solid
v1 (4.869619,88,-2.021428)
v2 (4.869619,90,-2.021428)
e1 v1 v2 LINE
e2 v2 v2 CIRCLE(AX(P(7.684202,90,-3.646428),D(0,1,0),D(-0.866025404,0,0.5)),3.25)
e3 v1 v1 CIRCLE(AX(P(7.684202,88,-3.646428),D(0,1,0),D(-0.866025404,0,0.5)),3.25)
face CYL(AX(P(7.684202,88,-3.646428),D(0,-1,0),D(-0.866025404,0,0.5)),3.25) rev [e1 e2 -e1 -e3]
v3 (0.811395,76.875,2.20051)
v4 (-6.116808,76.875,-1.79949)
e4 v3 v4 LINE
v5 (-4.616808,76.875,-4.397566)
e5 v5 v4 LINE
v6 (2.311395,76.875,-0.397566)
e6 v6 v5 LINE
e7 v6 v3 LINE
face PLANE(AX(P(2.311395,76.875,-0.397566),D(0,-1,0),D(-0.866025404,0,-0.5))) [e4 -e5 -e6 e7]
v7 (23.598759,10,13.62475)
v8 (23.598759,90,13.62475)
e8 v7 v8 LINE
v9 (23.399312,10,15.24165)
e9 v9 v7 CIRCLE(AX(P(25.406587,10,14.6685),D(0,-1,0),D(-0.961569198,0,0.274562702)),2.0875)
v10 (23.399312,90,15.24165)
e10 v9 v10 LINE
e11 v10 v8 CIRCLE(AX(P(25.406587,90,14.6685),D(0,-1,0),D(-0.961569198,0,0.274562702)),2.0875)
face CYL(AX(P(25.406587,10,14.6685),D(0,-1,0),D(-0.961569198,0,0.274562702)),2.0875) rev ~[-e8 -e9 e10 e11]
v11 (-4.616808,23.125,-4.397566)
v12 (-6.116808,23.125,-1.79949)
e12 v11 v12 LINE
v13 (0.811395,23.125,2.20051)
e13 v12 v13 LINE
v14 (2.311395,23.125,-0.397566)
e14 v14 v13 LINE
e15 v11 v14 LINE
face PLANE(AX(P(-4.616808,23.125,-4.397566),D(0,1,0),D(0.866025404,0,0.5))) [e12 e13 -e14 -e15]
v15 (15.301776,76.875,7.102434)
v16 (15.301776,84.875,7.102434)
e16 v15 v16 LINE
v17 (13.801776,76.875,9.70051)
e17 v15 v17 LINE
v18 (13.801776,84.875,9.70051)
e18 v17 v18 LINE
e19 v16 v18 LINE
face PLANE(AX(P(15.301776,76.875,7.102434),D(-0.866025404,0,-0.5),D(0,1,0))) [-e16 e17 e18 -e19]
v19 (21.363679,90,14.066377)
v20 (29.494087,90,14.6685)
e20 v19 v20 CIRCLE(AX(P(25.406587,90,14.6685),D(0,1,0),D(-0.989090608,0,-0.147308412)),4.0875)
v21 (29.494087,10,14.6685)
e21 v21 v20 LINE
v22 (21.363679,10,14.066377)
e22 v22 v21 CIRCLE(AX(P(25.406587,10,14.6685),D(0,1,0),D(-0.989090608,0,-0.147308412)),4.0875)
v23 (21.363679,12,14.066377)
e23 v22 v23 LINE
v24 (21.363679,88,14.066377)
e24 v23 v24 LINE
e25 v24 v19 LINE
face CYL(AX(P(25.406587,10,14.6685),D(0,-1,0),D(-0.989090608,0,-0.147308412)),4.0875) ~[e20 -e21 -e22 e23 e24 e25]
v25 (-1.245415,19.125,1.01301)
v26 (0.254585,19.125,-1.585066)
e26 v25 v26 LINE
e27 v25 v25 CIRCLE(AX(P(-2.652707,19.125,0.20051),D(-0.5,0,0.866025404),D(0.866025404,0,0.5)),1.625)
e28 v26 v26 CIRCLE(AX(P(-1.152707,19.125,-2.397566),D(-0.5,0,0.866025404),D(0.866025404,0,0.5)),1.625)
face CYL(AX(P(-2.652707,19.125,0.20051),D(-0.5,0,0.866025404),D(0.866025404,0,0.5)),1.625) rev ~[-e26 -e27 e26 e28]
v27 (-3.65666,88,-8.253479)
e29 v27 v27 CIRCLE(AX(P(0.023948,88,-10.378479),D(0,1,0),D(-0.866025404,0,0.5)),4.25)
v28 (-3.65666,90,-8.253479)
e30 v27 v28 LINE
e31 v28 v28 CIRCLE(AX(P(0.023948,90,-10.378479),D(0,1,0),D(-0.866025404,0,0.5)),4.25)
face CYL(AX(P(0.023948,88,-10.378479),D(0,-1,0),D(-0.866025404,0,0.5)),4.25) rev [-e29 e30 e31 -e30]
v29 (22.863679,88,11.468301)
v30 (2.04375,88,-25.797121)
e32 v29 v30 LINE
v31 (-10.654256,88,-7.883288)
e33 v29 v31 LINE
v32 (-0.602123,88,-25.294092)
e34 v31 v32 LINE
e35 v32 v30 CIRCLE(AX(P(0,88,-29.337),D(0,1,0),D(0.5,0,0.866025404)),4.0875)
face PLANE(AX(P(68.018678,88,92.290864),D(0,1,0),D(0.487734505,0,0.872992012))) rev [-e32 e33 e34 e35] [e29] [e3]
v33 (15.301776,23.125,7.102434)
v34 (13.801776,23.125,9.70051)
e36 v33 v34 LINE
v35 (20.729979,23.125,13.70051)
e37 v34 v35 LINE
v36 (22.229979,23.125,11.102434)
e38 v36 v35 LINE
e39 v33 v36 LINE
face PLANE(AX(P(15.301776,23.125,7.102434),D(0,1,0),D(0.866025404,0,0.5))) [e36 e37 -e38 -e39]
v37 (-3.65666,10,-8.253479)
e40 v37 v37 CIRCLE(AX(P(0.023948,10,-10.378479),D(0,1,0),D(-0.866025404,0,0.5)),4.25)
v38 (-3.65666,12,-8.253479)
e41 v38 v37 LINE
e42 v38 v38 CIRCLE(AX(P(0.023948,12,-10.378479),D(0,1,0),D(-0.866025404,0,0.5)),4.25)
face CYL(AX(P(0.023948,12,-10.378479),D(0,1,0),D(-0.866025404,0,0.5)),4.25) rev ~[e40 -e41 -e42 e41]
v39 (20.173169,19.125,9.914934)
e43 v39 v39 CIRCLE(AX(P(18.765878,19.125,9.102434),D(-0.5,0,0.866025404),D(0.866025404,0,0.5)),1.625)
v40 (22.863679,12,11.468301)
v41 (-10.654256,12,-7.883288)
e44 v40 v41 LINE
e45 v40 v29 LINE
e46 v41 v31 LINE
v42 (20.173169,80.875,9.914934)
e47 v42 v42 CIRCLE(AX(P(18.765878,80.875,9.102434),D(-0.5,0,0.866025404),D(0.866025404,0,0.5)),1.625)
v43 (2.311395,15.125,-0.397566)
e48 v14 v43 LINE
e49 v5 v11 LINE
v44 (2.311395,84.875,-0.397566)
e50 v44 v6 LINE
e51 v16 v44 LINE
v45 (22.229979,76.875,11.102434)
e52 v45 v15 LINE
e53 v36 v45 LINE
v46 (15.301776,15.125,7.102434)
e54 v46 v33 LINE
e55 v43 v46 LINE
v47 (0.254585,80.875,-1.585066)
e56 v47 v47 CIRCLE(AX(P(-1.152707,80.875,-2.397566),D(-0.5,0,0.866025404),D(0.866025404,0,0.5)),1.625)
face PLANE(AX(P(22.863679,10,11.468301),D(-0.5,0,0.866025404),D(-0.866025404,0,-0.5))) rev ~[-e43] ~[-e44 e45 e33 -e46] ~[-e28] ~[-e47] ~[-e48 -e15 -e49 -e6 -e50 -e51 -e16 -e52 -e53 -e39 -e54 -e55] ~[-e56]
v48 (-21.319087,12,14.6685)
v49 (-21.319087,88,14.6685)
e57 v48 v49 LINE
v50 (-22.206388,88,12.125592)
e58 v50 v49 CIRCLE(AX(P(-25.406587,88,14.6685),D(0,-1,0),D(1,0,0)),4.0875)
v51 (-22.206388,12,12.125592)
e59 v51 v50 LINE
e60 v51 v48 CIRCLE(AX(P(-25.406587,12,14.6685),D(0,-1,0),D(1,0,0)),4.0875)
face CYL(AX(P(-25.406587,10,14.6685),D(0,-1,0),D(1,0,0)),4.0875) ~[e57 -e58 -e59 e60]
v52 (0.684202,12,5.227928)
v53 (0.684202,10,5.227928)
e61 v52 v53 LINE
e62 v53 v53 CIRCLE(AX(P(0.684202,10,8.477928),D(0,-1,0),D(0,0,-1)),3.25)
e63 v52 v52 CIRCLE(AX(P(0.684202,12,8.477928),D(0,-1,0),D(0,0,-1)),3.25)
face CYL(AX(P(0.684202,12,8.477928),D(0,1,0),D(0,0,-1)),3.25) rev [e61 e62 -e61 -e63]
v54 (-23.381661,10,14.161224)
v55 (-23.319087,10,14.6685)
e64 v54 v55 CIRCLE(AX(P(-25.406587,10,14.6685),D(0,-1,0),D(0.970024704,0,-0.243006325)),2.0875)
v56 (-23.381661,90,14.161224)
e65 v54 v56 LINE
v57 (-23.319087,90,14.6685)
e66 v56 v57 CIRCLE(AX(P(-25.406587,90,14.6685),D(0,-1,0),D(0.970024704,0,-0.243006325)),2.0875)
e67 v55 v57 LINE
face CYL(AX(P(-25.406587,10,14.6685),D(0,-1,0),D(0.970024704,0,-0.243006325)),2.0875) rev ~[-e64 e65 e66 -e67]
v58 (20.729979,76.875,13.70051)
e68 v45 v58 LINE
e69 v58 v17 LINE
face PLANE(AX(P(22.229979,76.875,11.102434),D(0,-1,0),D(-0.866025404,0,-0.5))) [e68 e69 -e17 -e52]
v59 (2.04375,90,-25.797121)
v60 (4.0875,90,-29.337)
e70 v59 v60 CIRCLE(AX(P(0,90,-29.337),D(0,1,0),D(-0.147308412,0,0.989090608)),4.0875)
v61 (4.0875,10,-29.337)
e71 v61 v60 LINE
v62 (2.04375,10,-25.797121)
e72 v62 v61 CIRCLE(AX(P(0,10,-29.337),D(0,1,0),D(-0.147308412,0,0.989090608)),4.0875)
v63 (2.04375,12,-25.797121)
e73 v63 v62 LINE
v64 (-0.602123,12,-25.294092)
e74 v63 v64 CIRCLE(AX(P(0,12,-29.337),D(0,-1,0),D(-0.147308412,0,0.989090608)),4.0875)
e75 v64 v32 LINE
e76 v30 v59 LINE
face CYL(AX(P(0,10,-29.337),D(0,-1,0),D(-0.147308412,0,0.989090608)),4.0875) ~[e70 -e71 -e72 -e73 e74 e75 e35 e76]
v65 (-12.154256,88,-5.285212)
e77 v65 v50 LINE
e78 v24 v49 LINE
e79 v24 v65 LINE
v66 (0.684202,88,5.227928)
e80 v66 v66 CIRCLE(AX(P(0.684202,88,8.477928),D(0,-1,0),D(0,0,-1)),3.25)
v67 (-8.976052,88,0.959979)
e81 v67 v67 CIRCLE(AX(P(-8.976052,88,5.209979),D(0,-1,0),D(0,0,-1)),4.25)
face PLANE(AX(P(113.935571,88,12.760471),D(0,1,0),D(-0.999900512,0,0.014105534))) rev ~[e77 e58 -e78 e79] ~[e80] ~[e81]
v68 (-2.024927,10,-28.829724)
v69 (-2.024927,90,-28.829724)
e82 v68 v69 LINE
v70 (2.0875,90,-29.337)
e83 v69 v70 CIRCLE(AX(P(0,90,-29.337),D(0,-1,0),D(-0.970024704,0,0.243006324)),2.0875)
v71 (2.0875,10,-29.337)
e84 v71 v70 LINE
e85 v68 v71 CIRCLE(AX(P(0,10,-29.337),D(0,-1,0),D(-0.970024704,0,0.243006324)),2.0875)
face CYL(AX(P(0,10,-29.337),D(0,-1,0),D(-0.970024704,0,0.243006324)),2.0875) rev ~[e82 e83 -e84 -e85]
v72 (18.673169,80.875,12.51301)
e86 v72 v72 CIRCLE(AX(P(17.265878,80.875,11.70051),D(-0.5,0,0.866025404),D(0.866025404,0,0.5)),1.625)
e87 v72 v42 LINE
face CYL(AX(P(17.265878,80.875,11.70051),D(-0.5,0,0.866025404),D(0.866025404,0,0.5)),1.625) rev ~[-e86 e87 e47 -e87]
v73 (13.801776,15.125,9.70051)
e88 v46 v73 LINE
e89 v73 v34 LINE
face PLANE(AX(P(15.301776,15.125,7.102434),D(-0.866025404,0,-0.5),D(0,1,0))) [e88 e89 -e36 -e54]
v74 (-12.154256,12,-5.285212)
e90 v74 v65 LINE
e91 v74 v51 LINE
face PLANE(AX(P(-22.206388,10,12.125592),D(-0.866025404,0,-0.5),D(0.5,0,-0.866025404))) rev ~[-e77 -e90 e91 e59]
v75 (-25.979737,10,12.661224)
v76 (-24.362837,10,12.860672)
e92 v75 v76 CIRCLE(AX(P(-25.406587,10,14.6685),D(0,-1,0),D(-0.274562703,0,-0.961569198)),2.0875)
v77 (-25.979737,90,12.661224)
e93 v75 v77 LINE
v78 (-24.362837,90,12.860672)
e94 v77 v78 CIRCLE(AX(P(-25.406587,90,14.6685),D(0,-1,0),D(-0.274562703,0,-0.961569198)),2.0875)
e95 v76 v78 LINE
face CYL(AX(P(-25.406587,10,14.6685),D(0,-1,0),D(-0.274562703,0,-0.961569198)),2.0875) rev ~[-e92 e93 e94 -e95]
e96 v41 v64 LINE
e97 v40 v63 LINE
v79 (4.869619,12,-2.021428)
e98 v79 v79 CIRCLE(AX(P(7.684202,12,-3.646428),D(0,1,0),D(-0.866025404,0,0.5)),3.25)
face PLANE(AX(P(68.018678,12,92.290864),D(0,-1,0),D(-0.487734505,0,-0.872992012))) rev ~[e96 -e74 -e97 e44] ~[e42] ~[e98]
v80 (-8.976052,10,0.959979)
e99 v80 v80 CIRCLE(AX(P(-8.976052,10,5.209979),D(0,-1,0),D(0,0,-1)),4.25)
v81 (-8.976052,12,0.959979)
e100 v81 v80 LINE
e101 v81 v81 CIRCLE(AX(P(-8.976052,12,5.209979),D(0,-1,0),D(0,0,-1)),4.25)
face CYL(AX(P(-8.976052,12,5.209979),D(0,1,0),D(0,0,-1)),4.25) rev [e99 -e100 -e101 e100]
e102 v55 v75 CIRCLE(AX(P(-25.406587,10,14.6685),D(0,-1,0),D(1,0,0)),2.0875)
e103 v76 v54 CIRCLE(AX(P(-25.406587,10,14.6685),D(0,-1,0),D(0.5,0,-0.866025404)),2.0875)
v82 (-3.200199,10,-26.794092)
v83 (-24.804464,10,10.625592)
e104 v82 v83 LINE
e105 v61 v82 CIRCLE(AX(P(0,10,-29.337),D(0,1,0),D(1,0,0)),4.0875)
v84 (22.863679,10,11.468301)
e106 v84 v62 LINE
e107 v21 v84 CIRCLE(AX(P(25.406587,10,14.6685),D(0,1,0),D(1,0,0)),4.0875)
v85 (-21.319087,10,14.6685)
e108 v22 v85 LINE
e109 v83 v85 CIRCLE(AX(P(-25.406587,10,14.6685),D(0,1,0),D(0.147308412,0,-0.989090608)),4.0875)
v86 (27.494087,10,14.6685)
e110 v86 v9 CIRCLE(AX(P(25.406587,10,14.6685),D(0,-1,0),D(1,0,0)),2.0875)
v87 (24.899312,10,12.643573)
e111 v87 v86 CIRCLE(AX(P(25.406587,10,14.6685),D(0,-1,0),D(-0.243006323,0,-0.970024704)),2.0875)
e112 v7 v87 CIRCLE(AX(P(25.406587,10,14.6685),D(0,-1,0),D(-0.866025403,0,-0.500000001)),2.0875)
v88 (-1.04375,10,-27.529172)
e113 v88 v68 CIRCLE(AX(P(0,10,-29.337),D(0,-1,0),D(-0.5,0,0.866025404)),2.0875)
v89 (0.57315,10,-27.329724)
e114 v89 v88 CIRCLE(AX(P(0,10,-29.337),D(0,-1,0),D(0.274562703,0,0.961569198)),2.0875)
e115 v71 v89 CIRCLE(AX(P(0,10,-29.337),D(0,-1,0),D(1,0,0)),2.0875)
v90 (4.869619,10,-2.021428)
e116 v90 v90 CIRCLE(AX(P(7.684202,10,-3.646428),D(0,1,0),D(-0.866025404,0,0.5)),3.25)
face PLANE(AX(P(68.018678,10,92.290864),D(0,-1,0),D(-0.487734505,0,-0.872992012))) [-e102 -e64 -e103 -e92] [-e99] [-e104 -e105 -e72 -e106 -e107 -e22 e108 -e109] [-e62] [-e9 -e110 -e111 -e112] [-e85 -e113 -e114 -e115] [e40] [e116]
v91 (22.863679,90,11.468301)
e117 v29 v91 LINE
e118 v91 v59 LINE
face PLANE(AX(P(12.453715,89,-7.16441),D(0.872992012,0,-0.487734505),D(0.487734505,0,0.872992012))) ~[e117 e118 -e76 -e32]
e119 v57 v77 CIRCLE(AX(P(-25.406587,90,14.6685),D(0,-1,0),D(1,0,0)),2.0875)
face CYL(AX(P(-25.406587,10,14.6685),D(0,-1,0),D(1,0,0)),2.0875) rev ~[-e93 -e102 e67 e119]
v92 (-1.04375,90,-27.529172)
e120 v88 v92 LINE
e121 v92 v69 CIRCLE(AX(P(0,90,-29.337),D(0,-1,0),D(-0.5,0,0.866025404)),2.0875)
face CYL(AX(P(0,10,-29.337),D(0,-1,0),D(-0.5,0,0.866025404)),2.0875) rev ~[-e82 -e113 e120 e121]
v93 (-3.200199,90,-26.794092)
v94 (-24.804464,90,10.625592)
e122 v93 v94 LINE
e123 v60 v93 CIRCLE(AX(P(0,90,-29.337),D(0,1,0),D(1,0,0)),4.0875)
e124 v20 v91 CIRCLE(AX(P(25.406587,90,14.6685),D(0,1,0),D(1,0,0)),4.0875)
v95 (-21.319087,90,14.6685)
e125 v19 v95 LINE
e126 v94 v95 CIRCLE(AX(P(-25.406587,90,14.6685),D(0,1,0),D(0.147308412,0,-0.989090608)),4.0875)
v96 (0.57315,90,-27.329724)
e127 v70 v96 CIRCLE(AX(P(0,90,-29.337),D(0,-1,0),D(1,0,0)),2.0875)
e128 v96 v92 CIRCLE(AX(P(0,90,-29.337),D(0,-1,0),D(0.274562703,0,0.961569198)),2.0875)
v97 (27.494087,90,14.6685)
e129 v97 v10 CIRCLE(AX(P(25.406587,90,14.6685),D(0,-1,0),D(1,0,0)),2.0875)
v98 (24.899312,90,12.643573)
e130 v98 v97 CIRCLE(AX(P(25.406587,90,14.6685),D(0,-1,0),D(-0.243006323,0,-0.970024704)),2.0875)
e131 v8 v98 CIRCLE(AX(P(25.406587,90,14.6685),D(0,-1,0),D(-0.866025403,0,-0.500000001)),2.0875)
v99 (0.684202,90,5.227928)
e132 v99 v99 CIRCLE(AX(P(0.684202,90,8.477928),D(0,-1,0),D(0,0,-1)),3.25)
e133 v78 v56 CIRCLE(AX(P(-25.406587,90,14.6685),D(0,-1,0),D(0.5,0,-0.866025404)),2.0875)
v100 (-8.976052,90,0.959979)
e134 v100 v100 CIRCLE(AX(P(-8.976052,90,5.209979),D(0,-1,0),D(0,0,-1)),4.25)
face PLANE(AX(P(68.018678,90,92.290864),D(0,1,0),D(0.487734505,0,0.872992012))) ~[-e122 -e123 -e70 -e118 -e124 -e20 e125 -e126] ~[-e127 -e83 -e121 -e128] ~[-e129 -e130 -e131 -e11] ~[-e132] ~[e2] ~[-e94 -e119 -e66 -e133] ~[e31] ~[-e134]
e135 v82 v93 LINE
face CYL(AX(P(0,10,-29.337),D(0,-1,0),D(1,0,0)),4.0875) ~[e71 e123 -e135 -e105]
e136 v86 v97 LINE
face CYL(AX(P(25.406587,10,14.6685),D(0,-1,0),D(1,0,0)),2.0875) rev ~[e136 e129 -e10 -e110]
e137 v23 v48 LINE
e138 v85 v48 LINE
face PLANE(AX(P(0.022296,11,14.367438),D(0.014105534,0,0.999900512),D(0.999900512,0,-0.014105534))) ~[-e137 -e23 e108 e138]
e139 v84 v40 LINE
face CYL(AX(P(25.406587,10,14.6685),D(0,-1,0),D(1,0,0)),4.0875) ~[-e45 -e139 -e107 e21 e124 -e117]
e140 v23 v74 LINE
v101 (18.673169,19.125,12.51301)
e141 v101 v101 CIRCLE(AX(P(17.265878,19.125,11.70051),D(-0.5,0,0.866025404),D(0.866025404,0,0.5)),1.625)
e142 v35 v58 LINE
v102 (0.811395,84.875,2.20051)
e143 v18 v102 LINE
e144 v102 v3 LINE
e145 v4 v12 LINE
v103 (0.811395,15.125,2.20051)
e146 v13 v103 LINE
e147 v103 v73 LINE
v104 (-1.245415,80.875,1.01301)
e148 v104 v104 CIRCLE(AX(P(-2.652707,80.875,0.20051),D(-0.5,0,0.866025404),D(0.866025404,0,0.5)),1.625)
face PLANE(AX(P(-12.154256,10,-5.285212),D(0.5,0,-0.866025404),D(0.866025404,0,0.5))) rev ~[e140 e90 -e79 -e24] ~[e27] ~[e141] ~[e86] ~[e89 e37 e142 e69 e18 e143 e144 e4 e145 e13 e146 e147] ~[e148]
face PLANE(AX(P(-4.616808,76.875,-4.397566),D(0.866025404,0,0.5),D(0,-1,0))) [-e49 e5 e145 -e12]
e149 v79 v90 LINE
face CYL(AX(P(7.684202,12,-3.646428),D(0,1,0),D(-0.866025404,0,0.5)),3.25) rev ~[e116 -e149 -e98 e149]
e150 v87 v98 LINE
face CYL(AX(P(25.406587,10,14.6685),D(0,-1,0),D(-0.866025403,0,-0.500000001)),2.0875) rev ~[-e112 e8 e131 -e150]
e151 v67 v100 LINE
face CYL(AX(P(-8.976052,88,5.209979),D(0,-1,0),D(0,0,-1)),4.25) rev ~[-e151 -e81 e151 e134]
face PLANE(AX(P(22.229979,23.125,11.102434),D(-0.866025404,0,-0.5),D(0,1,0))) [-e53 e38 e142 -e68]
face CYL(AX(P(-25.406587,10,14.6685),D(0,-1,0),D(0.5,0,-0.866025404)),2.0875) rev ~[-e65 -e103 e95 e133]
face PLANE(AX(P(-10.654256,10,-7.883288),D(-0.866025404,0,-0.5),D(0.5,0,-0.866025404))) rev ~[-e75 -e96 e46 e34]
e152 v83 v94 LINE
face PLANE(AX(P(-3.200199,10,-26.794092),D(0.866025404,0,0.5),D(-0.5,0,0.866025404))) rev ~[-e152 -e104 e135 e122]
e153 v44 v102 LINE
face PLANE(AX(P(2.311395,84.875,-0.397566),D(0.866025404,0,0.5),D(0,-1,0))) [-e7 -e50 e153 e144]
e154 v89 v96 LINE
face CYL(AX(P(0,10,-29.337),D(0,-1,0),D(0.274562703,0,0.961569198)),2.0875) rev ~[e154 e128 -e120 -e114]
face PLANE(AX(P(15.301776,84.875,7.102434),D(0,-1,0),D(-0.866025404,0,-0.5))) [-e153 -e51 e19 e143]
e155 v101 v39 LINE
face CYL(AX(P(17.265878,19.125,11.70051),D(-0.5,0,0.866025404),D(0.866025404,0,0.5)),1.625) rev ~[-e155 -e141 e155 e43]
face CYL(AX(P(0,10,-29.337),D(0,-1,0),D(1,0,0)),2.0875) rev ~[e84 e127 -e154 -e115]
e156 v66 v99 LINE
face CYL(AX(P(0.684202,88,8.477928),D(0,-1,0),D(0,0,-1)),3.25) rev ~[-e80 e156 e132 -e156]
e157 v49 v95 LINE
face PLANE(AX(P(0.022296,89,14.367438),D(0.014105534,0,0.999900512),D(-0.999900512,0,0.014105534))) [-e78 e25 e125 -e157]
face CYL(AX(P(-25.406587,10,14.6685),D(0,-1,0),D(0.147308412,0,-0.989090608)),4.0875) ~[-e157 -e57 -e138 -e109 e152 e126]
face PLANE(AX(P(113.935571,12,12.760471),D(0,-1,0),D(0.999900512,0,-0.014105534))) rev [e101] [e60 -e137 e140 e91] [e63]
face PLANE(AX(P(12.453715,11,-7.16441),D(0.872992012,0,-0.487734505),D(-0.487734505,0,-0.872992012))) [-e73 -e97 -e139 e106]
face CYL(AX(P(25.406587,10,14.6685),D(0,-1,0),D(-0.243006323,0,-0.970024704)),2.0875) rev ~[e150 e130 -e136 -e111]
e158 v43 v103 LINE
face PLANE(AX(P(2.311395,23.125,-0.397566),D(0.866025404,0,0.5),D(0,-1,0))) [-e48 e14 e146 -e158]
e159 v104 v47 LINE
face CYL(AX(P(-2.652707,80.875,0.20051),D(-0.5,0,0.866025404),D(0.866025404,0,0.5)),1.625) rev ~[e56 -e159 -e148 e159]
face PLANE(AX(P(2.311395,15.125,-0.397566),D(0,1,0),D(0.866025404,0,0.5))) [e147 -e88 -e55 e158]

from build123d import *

# Parameters (mm, degrees)
SKETCH1_R                 = 38.1
SKETCH1_R_2               = 1.5875
BOSS_EXTRUDE1_DEPTH       = 10
BOSS_EXTRUDE2_DEPTH       = 80
RIB1_REACH                = 93.581
SKETCH3_WALL_W            = 227.849219062
SKETCH3_WALL_H            = 2
SKETCH5_R                 = 3.25
SKETCH5_R_2               = 4.25
CUT_EXTRUDE1_DEPTH        = 2
MIRROR2_COPY_1_REACH      = 93.581
MIRROR2_COPY_1_SKETCH_W   = 227.849219062
MIRROR2_COPY_1_SKETCH_H   = 2
MIRROR2_COPY_2_SKETCH_R   = 3.25
MIRROR2_COPY_2_SKETCH_R_2 = 4.25
MIRROR2_COPY_2_DEPTH      = 2
SKETCH12_R                = 1.625
CUT_EXTRUDE3_DEPTH        = 3
CUT_EXTRUDE4_DEPTH        = 3


with BuildPart() as part:
    # Sketch1 → Boss-Extrude1 (new body)
    with BuildSketch(Plane(origin=(0, 0, 0), x_dir=(1, 0, 0), z_dir=(0, 1, 0))):
        with Locations(Location((0, 0, 0), (0, 0, 270))):
            Circle(SKETCH1_R)
        with Locations(Location((0, 29.337, 0), (0, 0, 270))):
            Circle(SKETCH1_R_2, mode=Mode.SUBTRACT)
        with Locations(Location((25.406587271, -14.6685, 0), (0, 0, 270))):
            Circle(SKETCH1_R_2, mode=Mode.SUBTRACT)
        with Locations(Location((-25.406587271, -14.6685, 0), (0, 0, 270))):
            Circle(SKETCH1_R_2, mode=Mode.SUBTRACT)
    extrude(amount=BOSS_EXTRUDE1_DEPTH)


with BuildPart() as body_2:
    # Sketch2 → Boss-Extrude2 (new body)
    with BuildSketch(Plane(origin=(0, 10, 0), x_dir=(1, 0, 0), z_dir=(0, 1, 0))):
        with BuildLine():
            Line((-23.362837271, -11.128621162), (-13.453293635, 6.035211894))
            Line((-13.453293635, 6.035211894), (-12.703293635, 7.33425))
            Line((-12.703293635, 7.33425), (-11.953293635, 8.633288106))
            Line((-11.953293635, 8.633288106), (-2.04375, 25.797121162))
            ThreePointArc((-2.04375, 25.797121162), (-2.668939671, 26.241128995), (-3.200199346, 26.794092138))
            Line((-3.200199346, 26.794092138), (-24.804464136, -10.625592138))
            ThreePointArc((-24.804464136, -10.625592138), (-24.059954169, -10.809194941), (-23.362837271, -11.128621162))
        make_face()
        with BuildLine():
            Line((-12.15425553, 5.285211894), (-13.453293635, 6.035211894))
            Line((-13.453293635, 6.035211894), (-23.362837271, -11.128621162))
            ThreePointArc((-23.362837271, -11.128621162), (-22.7376476, -11.572628995), (-22.206387925, -12.125592138))
            Line((-22.206387925, -12.125592138), (-12.15425553, 5.285211894))
        make_face()
        with BuildLine():
            ThreePointArc((-21.319087271, -14.6685), (-21.547282212, -13.321866898), (-22.206387925, -12.125592138))
            Line((-22.206387925, -12.125592138), (-23.381660701, -14.161224299))
            ThreePointArc((-23.381660701, -14.161224299), (-23.334789686, -14.412939796), (-23.319087271, -14.6685))
            ThreePointArc((-23.319087271, -14.6685), (-26.663807692, -16.334949238), (-25.979736912, -12.661224299))
            Line((-25.979736912, -12.661224299), (-24.804464136, -10.625592138))
            ThreePointArc((-24.804464136, -10.625592138), (-28.502458276, -17.337439671), (-21.319087271, -14.6685))
        make_face()
        with BuildLine():
            Line((-24.362837271, -12.86067197), (-23.362837271, -11.128621162))
            ThreePointArc((-23.362837271, -11.128621162), (-24.059954169, -10.809194941), (-24.804464136, -10.625592138))
            Line((-24.804464136, -10.625592138), (-25.979736912, -12.661224299))
            ThreePointArc((-25.979736912, -12.661224299), (-25.151027067, -12.596702415), (-24.362837271, -12.86067197))
        make_face()
        with BuildLine():
            ThreePointArc((-22.206387925, -12.125592138), (-22.7376476, -11.572628995), (-23.362837271, -11.128621162))
            Line((-23.362837271, -11.128621162), (-24.362837271, -12.86067197))
            ThreePointArc((-24.362837271, -12.86067197), (-23.740138033, -13.411279579), (-23.381660701, -14.161224299))
            Line((-23.381660701, -14.161224299), (-22.206387925, -12.125592138))
        make_face()
        with BuildLine():
            ThreePointArc((4.0875, 29.337), (-1.346633102, 33.196305059), (-3.200199346, 26.794092138))
            Line((-3.200199346, 26.794092138), (-2.02492657, 28.829724299))
            ThreePointArc((-2.02492657, 28.829724299), (-0.255560204, 31.408797585), (2.0875, 29.337))
            ThreePointArc((2.0875, 29.337), (1.666449238, 28.079779579), (0.573149641, 27.329724299))
            Line((0.573149641, 27.329724299), (-0.602123135, 25.294092138))
            ThreePointArc((-0.602123135, 25.294092138), (2.668939671, 26.241128995), (4.0875, 29.337))
        make_face()
        with BuildLine():
            ThreePointArc((-3.200199346, 26.794092138), (-2.668939671, 26.241128995), (-2.04375, 25.797121162))
            Line((-2.04375, 25.797121162), (-1.04375, 27.52917197))
            ThreePointArc((-1.04375, 27.52917197), (-1.666449238, 28.079779579), (-2.02492657, 28.829724299))
            Line((-2.02492657, 28.829724299), (-3.200199346, 26.794092138))
        make_face()
        with BuildLine():
            Line((-1.04375, 27.52917197), (-2.04375, 25.797121162))
            ThreePointArc((-2.04375, 25.797121162), (-1.346633102, 25.477694941), (-0.602123135, 25.294092138))
            Line((-0.602123135, 25.294092138), (0.573149641, 27.329724299))
            ThreePointArc((0.573149641, 27.329724299), (-0.255560204, 27.265202415), (-1.04375, 27.52917197))
        make_face()
        with BuildLine():
            Line((-2.04375, 25.797121162), (-11.953293635, 8.633288106))
            Line((-11.953293635, 8.633288106), (-10.65425553, 7.883288106))
            Line((-10.65425553, 7.883288106), (-0.602123135, 25.294092138))
            ThreePointArc((-0.602123135, 25.294092138), (-1.346633102, 25.477694941), (-2.04375, 25.797121162))
        make_face()
        Polygon((-12.703293635, 7.33425), (-13.453293635, 6.035211894), (-12.15425553, 5.285211894), (-11.40425553, 6.58425), align=None)
        Polygon((-11.953293635, 8.633288106), (-12.703293635, 7.33425), (-11.40425553, 6.58425), (-10.65425553, 7.883288106), align=None)
        with BuildLine():
            Line((-10.65425553, 7.883288106), (-11.40425553, 6.58425))
            Line((-11.40425553, 6.58425), (21.866708433, -12.62475))
            ThreePointArc((21.866708433, -12.62475), (22.310716265, -11.999560329), (22.863679409, -11.468300654))
            Line((22.863679409, -11.468300654), (-10.65425553, 7.883288106))
        make_face()
        with BuildLine():
            Line((-11.40425553, 6.58425), (-12.15425553, 5.285211894))
            Line((-12.15425553, 5.285211894), (21.363679409, -14.066376865))
            ThreePointArc((21.363679409, -14.066376865), (21.547282212, -13.321866898), (21.866708433, -12.62475))
            Line((21.866708433, -12.62475), (-11.40425553, 6.58425))
        make_face()
        with BuildLine():
            ThreePointArc((22.863679409, -11.468300654), (22.310716265, -11.999560329), (21.866708433, -12.62475))
            Line((21.866708433, -12.62475), (23.59875924, -13.62475))
            ThreePointArc((23.59875924, -13.62475), (24.14936685, -13.002050762), (24.89931157, -12.64357343))
            Line((24.89931157, -12.64357343), (22.863679409, -11.468300654))
        make_face()
        with BuildLine():
            ThreePointArc((21.866708433, -12.62475), (21.547282212, -13.321866898), (21.363679409, -14.066376865))
            Line((21.363679409, -14.066376865), (23.39931157, -15.241649641))
            ThreePointArc((23.39931157, -15.241649641), (23.334789686, -14.412939796), (23.59875924, -13.62475))
            Line((23.59875924, -13.62475), (21.866708433, -12.62475))
        make_face()
        with BuildLine():
            Line((23.39931157, -15.241649641), (21.363679409, -14.066376865))
            ThreePointArc((21.363679409, -14.066376865), (25.104701229, -18.744836722), (29.494087271, -14.6685))
            ThreePointArc((29.494087271, -14.6685), (27.183314651, -10.987345824), (22.863679409, -11.468300654))
            Line((22.863679409, -11.468300654), (24.89931157, -12.64357343))
            ThreePointArc((24.89931157, -12.64357343), (26.690861039, -13.022809526), (27.494087271, -14.6685))
            ThreePointArc((27.494087271, -14.6685), (25.695955743, -16.735846642), (23.39931157, -15.241649641))
        make_face()
    extrude(amount=BOSS_EXTRUDE2_DEPTH)

    # Sketch3 wall → Rib1 (add, up to next)
    with BuildSketch(Plane(origin=(0.022296069, 90, 14.367438433), x_dir=(-0.999900512002, 0, 0.014105534336), z_dir=(0.014105534336, 0, 0.999900512002)), mode=Mode.PRIVATE) as rib1_sk1:
        with Locations((0, 1)):
            Rectangle(SKETCH3_WALL_W, SKETCH3_WALL_H)
    rib1_tool1 = extrude(rib1_sk1.sketch, amount=-RIB1_REACH, mode=Mode.PRIVATE) - body_2.part
    rib1 = rib1_tool1.solids().sort_by_distance((0.022296069, 90, 14.367438433))[0]
    add(rib1)

    # Sketch5 → Cut-Extrude1 (cut)
    with BuildSketch(Plane.XZ.offset(-88)):
        with Locations(Location((0.684201738, 8.477927826, 0), (0, 0, 270))):
            Circle(SKETCH5_R)
        with Locations(Location((-8.976052299, 5.209978634, 0), (0, 0, 270))):
            Circle(SKETCH5_R_2)
    cut_extrude1 = extrude(amount=-CUT_EXTRUDE1_DEPTH, mode=Mode.SUBTRACT)

    # Mirror1: Rib1, Cut-Extrude1 across plane
    add(rib1.mirror(Plane.ZX.offset(50)))
    add(cut_extrude1.mirror(Plane.ZX.offset(50)), mode=Mode.SUBTRACT)

    # Mirror2: Rib1, Cut-Extrude1 across plane
    add(rib1.mirror(Plane(origin=(0, 0, 0), x_dir=(0.8660254037844597, 0, 0.49999999999996353), z_dir=(0.49999999999996314, 0, -0.8660254037844598))))
    add(cut_extrude1.mirror(Plane(origin=(0, 0, 0), x_dir=(0.8660254037844597, 0, 0.49999999999996353), z_dir=(0.49999999999996314, 0, -0.8660254037844598))), mode=Mode.SUBTRACT)

    # Mirror2 copy 1 sketch → Mirror2 copy 1 (add, up to next)
    with BuildSketch(Plane(origin=(12.453714705, 10, -7.164410254), x_dir=(-0.48773450493214454, 0, -0.8729920118187576), z_dir=(0.8729920118187576, 0, -0.48773450493214465)), mode=Mode.PRIVATE) as mirror2_copy_1_sk1:
        with Locations((0, 1)):
            Rectangle(MIRROR2_COPY_1_SKETCH_W, MIRROR2_COPY_1_SKETCH_H)
    mirror2_copy_1_tool1 = extrude(mirror2_copy_1_sk1.sketch, amount=-MIRROR2_COPY_1_REACH, mode=Mode.PRIVATE) - body_2.part
    add(mirror2_copy_1_tool1.solids().sort_by_distance((12.453714705, 10, -7.164410254))[0])

    # Mirror2 copy 2 sketch → Mirror2 copy 2 (cut)
    with BuildSketch(Plane(origin=(0, 12, 0), x_dir=(0.5000000000000736, 0, 0.8660254037843962), z_dir=(0, 1, 0))):
        with Locations(Location((0.684201738, 8.477927826, 0), (0, 0, 270))):
            Circle(MIRROR2_COPY_2_SKETCH_R)
        with Locations(Location((-8.976052299, 5.209978634, 0), (0, 0, 270))):
            Circle(MIRROR2_COPY_2_SKETCH_R_2)
    extrude(amount=-MIRROR2_COPY_2_DEPTH, mode=Mode.SUBTRACT)

    # Sketch12 → Cut-Extrude3 (cut)
    with BuildSketch(Plane(origin=(-0.75, 0, 1.299038106), x_dir=(0.8660254037844608, 0, 0.49999999999996164), z_dir=(-0.49999999999996175, 0, 0.8660254037844609))):
        with Locations((-2.197056325, 80.875)):
            Circle(SKETCH12_R)
        with Locations((-2.197056325, 19.125)):
            Circle(SKETCH12_R)
        with Locations((20.802943675, 19.125)):
            Circle(SKETCH12_R)
        with Locations((20.802943675, 80.875)):
            Circle(SKETCH12_R)
    extrude(amount=-CUT_EXTRUDE3_DEPTH, mode=Mode.SUBTRACT)

    # Sketch13 → Cut-Extrude4 (cut)
    with BuildSketch(Plane(origin=(0.75, 0, -1.299038106), x_dir=(-0.8660254037844608, 0, -0.49999999999996164), z_dir=(0.49999999999996175, 0, -0.8660254037844609))):
        Polygon((6.197056325, 76.875), (6.197056325, 23.125), (-1.802943675, 23.125), (-1.802943675, 15.125), (-16.802943675, 15.125), (-16.802943675, 23.125), (-24.802943675, 23.125), (-24.802943675, 76.875), (-16.802943675, 76.875), (-16.802943675, 84.875), (-1.802943675, 84.875), (-1.802943675, 76.875), align=None)
    extrude(amount=-CUT_EXTRUDE4_DEPTH, mode=Mode.SUBTRACT)


solid = body_2.part
